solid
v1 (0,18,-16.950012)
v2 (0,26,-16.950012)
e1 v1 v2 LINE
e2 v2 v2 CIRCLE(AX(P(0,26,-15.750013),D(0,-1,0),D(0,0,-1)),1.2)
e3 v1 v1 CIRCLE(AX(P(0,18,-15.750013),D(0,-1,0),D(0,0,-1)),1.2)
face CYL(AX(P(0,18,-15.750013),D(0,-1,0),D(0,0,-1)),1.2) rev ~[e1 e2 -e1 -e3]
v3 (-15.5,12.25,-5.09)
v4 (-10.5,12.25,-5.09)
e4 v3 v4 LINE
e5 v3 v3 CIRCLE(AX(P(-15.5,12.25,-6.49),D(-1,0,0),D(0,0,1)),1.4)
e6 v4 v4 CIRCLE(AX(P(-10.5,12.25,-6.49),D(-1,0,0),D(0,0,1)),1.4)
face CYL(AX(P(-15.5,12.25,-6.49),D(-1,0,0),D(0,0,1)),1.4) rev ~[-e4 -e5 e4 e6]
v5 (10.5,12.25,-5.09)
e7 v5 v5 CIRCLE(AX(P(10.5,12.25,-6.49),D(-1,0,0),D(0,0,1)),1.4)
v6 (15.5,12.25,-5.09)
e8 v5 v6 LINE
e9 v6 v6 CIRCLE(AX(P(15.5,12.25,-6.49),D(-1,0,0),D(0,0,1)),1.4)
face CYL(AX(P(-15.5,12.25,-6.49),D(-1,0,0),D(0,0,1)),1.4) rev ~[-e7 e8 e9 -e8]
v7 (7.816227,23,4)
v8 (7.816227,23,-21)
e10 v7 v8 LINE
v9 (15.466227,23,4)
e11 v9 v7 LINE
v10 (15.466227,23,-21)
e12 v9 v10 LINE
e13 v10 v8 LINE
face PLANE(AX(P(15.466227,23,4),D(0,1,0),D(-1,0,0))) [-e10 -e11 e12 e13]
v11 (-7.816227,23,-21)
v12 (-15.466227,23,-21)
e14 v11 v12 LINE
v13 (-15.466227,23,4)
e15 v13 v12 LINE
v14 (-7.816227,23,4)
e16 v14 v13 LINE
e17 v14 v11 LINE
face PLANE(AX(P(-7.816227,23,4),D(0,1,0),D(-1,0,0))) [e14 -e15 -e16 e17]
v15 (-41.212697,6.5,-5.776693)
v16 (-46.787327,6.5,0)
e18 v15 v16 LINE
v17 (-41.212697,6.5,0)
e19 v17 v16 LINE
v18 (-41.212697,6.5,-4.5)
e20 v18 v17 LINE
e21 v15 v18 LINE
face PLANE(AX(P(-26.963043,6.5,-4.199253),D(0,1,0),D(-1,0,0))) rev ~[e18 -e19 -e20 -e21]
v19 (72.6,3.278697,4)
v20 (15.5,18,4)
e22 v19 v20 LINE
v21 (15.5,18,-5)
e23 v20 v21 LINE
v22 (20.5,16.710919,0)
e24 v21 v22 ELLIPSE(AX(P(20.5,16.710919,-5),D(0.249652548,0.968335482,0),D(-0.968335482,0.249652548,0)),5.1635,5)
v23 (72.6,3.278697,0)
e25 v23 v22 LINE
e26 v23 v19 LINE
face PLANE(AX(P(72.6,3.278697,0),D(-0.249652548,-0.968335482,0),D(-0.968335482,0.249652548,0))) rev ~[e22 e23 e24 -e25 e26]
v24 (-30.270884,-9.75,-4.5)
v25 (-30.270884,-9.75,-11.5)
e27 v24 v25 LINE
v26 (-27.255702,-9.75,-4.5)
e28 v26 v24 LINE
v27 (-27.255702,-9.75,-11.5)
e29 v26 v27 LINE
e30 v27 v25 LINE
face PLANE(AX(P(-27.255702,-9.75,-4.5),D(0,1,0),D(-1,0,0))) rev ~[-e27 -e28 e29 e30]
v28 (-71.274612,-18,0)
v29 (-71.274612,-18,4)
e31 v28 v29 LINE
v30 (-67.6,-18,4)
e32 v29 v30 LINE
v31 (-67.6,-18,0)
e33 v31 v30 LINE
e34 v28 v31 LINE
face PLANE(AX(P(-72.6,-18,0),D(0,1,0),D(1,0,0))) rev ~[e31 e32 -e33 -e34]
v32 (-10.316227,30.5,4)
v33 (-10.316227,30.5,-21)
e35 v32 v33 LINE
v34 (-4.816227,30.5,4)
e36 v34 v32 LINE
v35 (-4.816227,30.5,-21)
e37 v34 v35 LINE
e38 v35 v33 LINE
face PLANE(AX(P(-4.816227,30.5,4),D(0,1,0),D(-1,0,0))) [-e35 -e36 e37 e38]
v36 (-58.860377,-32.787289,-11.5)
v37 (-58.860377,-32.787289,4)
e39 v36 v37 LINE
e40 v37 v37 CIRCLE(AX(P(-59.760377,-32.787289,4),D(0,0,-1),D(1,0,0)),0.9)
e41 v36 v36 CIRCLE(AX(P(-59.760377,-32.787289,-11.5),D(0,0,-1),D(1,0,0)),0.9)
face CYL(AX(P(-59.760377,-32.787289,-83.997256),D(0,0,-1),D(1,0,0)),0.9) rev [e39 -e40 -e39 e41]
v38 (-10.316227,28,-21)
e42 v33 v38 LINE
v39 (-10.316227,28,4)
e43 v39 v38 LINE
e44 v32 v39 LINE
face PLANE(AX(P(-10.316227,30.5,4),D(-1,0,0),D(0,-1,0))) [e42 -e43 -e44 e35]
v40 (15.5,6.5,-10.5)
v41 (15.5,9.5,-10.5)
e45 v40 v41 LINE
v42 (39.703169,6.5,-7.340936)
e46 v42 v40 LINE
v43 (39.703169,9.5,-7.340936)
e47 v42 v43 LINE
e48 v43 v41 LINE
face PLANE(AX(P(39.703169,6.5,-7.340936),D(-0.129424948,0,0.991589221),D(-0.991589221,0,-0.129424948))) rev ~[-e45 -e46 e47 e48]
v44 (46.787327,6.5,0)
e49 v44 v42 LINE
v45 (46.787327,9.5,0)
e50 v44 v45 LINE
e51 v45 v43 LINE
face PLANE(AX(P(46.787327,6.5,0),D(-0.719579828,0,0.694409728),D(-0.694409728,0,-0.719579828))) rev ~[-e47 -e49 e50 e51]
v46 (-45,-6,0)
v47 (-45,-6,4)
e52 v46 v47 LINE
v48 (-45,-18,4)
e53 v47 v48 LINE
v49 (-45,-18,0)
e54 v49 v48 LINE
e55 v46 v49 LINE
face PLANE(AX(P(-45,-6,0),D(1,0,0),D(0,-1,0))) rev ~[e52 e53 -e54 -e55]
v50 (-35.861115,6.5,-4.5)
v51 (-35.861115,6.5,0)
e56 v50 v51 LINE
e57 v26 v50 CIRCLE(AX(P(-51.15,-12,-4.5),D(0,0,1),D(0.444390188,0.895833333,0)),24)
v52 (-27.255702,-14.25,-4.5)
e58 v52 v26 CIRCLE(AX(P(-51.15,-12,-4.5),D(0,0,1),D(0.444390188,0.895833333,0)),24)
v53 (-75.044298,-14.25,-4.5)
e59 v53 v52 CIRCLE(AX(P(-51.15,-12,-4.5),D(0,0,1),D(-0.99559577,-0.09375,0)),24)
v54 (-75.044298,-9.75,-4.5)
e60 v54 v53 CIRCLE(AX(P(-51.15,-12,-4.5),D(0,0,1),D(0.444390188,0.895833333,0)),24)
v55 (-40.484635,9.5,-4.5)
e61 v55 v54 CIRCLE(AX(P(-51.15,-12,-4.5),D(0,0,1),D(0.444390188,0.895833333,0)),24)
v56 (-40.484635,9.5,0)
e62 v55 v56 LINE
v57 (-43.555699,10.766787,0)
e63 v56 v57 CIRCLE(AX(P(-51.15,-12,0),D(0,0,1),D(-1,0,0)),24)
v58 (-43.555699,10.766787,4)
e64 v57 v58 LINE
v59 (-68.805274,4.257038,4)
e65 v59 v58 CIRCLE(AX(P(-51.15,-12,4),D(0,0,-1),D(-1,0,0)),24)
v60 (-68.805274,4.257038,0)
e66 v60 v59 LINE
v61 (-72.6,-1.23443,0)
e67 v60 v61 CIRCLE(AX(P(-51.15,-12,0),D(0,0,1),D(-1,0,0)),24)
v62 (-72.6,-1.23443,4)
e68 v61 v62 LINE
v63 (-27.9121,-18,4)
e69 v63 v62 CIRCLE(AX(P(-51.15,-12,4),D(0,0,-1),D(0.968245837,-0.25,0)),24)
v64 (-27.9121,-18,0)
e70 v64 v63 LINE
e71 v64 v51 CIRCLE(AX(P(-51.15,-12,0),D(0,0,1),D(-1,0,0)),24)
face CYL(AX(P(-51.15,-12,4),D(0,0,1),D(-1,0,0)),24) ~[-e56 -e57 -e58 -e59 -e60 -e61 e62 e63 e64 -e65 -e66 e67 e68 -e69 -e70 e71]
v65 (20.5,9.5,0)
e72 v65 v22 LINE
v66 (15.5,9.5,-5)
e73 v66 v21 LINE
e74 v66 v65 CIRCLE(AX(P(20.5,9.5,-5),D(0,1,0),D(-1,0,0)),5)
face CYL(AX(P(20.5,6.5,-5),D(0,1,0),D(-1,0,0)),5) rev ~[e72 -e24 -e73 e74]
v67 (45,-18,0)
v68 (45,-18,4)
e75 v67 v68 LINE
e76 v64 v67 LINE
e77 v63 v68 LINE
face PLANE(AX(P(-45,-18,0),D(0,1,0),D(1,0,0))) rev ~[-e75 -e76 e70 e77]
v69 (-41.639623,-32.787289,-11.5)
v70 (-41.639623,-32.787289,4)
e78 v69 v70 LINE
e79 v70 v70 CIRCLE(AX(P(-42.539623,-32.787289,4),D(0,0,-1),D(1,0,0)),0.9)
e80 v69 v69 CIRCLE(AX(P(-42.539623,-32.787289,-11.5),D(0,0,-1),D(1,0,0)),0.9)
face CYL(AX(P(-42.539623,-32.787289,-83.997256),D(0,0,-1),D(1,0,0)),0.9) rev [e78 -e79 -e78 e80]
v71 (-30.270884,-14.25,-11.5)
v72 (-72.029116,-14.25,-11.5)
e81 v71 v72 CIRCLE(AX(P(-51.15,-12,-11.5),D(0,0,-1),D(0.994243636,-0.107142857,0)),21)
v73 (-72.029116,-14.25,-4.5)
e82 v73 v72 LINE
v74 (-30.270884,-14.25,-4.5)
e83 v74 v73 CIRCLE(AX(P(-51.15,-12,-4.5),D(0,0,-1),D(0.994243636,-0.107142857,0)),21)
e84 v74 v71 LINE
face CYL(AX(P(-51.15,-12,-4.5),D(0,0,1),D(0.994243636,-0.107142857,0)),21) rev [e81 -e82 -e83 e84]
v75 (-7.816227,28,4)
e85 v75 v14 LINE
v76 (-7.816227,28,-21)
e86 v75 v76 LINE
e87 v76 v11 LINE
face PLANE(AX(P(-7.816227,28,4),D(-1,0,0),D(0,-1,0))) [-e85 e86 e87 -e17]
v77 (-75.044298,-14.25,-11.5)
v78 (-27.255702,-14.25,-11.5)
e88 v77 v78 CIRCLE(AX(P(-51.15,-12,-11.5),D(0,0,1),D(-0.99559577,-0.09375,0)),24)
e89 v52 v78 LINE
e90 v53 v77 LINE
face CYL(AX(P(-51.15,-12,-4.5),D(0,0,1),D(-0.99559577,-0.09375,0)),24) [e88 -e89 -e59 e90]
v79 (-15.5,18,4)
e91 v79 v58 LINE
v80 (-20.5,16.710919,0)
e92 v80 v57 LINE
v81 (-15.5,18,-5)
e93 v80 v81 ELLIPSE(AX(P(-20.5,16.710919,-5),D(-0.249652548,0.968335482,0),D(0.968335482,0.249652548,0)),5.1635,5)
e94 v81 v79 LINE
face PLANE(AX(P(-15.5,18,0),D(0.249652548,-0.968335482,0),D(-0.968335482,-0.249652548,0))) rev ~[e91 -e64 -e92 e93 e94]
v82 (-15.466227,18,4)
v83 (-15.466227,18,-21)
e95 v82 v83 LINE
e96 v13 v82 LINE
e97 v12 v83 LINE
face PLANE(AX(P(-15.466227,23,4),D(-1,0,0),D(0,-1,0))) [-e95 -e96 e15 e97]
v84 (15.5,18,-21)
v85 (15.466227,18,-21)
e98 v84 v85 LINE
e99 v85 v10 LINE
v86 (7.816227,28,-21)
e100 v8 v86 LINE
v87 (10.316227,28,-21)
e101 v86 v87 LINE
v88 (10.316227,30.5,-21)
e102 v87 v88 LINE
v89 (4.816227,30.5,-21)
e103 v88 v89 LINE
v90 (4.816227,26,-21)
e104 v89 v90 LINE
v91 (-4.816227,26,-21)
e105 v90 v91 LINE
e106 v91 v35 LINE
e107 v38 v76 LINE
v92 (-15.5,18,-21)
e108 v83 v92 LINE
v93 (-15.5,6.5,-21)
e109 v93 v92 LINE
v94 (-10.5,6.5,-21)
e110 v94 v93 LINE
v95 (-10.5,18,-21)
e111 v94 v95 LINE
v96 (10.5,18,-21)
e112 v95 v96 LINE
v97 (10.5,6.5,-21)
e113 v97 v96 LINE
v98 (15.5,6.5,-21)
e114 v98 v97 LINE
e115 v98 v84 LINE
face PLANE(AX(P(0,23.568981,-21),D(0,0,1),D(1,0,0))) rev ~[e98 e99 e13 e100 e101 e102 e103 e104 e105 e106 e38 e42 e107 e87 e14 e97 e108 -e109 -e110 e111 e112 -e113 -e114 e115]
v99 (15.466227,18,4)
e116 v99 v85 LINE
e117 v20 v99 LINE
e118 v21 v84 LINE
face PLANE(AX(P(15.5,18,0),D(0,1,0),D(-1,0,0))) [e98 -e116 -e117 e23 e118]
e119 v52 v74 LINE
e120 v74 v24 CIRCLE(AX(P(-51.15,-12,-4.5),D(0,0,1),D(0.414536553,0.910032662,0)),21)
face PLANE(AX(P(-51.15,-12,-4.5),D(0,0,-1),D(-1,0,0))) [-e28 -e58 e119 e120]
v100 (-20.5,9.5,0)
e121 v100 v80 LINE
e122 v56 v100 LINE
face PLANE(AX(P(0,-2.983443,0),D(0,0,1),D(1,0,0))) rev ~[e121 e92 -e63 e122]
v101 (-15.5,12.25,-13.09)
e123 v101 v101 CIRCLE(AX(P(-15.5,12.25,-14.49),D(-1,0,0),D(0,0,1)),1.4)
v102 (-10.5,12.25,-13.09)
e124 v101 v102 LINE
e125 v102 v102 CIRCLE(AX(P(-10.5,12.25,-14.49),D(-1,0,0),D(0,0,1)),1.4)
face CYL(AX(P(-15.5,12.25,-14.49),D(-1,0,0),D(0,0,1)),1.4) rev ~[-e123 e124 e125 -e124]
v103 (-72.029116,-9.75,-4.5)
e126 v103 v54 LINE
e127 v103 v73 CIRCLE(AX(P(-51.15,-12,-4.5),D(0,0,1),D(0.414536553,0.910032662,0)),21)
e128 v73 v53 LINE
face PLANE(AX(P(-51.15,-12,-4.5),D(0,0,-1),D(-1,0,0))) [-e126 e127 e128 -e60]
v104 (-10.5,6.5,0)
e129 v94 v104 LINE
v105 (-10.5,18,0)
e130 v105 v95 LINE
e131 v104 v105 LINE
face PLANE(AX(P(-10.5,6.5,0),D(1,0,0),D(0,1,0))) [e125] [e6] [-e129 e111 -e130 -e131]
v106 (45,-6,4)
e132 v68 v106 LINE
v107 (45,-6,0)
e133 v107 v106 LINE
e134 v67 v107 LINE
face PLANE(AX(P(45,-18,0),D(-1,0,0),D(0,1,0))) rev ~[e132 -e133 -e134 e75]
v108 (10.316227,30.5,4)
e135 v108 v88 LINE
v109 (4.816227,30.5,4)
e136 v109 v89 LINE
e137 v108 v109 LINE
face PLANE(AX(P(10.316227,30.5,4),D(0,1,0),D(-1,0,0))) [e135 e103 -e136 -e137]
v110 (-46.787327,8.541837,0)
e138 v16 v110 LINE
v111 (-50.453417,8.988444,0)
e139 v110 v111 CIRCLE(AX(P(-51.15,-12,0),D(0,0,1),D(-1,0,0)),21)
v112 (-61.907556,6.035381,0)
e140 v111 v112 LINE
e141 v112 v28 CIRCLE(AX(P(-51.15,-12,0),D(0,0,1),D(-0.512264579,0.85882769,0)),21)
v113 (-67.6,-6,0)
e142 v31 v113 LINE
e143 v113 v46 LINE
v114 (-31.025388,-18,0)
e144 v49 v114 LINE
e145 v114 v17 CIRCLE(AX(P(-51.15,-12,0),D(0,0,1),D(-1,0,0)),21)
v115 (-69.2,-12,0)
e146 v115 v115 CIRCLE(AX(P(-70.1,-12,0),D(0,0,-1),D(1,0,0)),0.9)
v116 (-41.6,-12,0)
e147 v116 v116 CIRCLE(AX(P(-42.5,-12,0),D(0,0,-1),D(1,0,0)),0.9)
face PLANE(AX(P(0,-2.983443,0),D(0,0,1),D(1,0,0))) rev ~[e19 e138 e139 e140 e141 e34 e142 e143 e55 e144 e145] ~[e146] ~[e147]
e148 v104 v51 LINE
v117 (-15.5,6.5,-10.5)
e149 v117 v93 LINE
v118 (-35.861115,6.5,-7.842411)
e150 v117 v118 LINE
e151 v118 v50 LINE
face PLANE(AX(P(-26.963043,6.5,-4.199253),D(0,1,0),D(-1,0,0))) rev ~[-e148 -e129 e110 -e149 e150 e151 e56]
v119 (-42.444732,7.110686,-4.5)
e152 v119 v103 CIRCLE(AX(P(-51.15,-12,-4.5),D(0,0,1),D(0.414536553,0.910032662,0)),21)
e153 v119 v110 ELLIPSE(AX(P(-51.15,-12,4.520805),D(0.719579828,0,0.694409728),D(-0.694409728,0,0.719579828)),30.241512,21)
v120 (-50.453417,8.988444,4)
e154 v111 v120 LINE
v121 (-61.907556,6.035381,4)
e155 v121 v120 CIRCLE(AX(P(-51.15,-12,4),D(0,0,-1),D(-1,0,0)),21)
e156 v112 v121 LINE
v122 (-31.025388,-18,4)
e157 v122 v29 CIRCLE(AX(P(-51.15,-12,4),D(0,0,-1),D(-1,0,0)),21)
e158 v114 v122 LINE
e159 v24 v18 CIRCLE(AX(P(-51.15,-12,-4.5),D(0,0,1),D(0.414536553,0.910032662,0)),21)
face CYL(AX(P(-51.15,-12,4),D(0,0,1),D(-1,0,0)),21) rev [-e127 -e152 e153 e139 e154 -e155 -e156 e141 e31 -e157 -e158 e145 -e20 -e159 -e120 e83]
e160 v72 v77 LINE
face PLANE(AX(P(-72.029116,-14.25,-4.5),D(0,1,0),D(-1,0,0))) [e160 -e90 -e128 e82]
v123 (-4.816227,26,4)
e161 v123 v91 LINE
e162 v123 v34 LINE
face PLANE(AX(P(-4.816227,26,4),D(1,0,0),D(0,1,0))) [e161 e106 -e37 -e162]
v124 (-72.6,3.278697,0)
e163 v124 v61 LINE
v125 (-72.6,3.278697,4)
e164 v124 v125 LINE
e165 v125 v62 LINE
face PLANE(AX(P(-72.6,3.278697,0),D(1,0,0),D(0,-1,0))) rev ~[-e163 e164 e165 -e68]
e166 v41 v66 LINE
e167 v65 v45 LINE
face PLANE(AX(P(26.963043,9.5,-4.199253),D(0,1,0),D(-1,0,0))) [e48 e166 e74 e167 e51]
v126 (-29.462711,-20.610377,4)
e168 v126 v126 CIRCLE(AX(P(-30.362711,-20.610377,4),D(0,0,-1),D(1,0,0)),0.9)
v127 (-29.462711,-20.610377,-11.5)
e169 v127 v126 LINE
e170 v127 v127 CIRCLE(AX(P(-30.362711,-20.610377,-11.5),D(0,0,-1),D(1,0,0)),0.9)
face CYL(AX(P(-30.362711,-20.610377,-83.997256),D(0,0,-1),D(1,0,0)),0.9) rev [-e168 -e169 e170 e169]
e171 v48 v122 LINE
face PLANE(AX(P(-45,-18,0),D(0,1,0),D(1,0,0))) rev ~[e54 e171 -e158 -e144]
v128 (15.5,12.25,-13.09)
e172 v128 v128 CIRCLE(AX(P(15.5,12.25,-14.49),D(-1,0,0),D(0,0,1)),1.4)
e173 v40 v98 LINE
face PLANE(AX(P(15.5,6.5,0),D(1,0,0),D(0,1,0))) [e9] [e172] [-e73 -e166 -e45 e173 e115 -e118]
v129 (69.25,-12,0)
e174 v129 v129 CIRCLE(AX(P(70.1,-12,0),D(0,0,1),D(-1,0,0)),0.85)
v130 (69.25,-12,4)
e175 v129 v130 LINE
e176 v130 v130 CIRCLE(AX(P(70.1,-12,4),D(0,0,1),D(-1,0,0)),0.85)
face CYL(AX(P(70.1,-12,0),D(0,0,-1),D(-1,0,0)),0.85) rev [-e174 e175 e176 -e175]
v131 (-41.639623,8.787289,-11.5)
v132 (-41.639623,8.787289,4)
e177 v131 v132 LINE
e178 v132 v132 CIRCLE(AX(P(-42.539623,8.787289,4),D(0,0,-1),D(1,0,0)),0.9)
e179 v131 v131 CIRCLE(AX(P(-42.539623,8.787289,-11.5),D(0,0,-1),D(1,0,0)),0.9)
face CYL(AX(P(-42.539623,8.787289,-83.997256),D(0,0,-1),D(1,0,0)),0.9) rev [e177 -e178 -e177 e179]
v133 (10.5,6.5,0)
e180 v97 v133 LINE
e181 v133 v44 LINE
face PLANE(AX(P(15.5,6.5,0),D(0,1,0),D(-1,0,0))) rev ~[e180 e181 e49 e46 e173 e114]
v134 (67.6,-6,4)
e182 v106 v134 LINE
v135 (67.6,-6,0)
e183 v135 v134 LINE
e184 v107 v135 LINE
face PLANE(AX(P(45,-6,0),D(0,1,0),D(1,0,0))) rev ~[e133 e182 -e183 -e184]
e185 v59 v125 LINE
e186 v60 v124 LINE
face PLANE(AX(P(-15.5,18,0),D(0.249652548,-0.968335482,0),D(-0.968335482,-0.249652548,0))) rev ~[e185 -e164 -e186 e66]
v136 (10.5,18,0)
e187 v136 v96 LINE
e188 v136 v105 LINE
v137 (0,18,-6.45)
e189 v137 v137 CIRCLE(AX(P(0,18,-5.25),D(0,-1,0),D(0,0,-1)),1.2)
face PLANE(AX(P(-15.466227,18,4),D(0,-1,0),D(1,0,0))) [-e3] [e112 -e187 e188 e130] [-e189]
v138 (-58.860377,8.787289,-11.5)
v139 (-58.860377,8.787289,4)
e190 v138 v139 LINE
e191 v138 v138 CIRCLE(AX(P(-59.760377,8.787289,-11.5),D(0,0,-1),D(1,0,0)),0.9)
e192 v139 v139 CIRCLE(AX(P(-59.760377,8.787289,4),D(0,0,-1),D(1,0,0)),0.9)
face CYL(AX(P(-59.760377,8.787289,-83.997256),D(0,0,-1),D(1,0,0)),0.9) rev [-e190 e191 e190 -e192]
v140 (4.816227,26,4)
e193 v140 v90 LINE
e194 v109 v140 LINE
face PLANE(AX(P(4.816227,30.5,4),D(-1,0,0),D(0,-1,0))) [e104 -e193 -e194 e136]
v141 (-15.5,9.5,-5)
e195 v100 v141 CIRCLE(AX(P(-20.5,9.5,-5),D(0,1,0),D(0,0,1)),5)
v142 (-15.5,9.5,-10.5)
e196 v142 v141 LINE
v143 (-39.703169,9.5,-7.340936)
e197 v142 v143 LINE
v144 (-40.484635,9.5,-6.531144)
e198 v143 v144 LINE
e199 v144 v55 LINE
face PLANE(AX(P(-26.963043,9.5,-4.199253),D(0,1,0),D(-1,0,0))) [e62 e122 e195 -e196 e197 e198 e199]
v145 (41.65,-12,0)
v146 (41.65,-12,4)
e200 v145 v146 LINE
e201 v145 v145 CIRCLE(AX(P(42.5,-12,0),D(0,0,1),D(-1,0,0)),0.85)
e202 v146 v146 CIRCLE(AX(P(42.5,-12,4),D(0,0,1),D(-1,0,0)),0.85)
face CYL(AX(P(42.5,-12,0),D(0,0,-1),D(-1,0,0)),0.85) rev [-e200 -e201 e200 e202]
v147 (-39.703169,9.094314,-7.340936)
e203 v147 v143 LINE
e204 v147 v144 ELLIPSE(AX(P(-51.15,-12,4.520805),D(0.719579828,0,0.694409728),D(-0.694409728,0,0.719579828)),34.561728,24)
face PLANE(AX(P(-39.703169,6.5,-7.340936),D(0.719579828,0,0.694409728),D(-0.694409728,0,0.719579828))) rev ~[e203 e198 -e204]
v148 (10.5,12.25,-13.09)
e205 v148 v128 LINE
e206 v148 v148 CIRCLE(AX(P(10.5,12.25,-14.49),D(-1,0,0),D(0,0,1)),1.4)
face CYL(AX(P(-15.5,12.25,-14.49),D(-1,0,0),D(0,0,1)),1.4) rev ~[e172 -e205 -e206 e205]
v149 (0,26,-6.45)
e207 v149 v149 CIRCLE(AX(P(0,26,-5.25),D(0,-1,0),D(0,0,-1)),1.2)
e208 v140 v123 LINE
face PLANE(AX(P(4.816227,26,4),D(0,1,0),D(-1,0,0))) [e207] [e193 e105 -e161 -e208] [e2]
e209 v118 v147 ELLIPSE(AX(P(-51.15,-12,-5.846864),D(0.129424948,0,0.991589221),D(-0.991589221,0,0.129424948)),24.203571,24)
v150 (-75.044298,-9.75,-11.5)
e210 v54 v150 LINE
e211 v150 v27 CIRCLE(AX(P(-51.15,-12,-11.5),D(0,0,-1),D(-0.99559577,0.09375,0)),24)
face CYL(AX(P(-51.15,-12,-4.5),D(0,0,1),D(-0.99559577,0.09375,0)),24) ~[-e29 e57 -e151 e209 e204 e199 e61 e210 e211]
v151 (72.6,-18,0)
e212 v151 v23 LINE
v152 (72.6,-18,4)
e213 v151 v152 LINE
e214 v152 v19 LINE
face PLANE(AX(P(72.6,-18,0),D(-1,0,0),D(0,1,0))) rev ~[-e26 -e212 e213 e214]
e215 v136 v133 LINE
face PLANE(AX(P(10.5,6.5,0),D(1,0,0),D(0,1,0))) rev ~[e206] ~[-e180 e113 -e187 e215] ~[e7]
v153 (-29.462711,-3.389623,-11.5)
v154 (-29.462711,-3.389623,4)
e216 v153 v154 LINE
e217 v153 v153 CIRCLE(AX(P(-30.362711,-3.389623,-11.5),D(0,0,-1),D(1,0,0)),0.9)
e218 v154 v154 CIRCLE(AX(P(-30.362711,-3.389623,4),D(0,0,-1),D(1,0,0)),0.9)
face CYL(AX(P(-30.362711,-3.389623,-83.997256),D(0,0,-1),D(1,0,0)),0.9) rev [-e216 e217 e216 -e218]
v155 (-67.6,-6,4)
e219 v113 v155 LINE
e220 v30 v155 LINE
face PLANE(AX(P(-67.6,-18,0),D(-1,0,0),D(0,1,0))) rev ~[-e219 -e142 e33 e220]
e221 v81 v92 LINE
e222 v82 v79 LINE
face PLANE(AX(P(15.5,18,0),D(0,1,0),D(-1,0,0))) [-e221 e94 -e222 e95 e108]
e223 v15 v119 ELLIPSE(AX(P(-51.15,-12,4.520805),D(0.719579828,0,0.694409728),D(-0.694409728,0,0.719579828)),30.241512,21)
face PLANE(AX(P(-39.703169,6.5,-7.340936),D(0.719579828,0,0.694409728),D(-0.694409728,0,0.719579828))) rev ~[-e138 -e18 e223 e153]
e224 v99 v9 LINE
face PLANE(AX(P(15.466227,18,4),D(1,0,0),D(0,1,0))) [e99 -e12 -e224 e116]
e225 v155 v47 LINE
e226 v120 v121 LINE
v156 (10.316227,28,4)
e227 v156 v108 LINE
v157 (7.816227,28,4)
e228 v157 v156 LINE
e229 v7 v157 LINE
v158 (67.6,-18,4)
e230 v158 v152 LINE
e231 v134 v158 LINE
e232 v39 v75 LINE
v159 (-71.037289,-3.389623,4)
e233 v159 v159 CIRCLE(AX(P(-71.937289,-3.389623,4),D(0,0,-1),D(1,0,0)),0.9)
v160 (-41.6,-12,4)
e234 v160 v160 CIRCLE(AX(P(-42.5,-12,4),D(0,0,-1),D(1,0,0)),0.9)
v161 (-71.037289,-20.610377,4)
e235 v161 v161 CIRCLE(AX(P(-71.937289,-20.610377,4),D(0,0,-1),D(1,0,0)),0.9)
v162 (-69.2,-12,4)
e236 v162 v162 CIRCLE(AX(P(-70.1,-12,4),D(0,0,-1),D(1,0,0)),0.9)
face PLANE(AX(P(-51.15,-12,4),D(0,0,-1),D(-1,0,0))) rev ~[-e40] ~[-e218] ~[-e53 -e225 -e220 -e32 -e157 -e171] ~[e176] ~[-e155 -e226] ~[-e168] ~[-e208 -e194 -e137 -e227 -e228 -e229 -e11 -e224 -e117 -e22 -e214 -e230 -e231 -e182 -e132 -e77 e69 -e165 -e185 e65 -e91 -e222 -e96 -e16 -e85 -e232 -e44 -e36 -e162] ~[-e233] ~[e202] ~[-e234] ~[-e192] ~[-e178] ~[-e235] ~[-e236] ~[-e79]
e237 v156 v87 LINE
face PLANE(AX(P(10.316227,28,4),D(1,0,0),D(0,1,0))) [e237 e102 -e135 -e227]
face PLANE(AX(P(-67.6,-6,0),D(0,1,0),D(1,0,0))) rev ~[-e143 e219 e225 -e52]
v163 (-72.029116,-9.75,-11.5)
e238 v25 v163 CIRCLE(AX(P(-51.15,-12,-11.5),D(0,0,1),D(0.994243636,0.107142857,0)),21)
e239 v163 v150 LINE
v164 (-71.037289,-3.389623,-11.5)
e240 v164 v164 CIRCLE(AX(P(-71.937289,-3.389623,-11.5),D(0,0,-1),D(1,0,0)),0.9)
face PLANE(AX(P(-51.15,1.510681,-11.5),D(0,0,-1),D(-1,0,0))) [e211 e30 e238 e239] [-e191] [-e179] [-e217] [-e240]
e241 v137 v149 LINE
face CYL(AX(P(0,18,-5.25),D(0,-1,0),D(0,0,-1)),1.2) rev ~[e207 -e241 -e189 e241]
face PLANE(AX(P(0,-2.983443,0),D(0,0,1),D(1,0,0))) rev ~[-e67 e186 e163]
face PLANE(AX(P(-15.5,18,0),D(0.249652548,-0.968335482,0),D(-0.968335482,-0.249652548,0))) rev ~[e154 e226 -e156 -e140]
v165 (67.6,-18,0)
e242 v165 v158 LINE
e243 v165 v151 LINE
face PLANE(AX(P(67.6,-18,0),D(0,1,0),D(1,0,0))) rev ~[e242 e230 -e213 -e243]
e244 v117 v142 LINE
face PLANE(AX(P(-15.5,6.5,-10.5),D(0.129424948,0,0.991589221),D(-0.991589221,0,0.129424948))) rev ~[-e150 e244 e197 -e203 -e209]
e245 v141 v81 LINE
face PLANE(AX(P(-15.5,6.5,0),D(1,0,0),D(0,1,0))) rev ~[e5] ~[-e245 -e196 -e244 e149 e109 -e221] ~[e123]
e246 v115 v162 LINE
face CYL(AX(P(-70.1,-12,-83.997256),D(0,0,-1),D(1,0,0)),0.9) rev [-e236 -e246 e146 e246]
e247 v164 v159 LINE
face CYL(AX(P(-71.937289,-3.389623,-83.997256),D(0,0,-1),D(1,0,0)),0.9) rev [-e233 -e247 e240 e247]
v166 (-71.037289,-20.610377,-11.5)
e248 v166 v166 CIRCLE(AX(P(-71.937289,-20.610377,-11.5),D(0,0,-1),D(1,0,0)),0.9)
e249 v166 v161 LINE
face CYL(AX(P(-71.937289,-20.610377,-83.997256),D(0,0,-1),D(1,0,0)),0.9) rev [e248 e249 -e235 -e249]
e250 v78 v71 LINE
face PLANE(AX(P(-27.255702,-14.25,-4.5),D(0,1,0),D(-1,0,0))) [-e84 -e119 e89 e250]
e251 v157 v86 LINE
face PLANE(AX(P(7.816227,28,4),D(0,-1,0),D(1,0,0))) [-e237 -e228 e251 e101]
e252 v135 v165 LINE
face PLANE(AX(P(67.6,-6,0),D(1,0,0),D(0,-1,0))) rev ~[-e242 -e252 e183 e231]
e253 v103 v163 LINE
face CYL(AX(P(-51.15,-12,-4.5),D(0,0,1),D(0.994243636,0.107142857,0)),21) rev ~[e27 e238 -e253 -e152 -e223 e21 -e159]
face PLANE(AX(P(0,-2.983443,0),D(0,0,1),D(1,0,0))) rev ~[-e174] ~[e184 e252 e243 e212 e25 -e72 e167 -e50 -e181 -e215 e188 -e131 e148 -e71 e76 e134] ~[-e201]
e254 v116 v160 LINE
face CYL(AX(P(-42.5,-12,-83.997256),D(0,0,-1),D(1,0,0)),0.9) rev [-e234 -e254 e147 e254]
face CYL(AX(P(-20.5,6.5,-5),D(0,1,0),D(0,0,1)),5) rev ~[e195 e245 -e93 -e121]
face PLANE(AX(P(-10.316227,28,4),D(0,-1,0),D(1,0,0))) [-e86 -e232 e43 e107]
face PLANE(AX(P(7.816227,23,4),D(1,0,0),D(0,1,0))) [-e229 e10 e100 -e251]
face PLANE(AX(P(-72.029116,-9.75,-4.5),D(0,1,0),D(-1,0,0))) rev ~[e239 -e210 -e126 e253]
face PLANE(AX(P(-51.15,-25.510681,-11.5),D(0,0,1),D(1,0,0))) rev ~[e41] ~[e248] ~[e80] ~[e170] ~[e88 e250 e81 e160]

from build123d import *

# Parameters (mm, degrees)
ESQUISSE1_R                  = 0.85
BOSS_EXTRU_1_DEPTH           = 4
ESQUISSE2_W                  = 5
ESQUISSE2_H                  = 11.5
BOSS_EXTRU_2_DEPTH           = 21
ESQUISSE3_R                  = 1.4
ENL_V_MAT_EXTRU_1_DEPTH      = 93.33964479
CONG_1_R                     = 5
BOSS_EXTRU_3_DEPTH           = 3
BOSS_EXTRU_4_DEPTH           = 25
ESQUISSE6_R                  = 1.2
ENL_V_MAT_EXTRU_2_DEPTH      = 84.712364678
BOSS_EXTRU_6_DEPTH           = 4.5
BOSS_EXTRU_6_DEPTH_BACK      = 4
ESQUISSE9_R                  = 24
ESQUISSE9_R_2                = 21
BOSS_EXTRU_7_DEPTH           = 7
ENL_V_MAT_EXTRU_3_DEPTH      = 87.997255704
ENL_V_MAT_EXTRU_3_DEPTH_BACK = 87.997255704
ESQUISSE11_R                 = 0.9
ENL_V_MAT_EXTRU_4_DEPTH      = 87.997255704
ENL_V_MAT_EXTRU_4_DEPTH_BACK = 87.997255704
ESQUISSE12_R                 = 0.9


with BuildPart() as part:
    # Esquisse1 → Boss.-Extru.1 (new body)
    with BuildSketch(Plane.XY):
        Polygon((15.5, 18), (-15.5, 18), (-72.6, 3.278696541), (-72.6, -18), (-67.6, -18), (-67.6, -6), (-45, -6), (-45, -18), (45, -18), (45, -6), (67.6, -6), (67.6, -18), (72.6, -18), (72.6, 3.278696541), align=None)
        with Locations((-42.5, -12)):
            Circle(ESQUISSE1_R, mode=Mode.SUBTRACT)
        with Locations((-70.1, -12)):
            Circle(ESQUISSE1_R, mode=Mode.SUBTRACT)
        with Locations(Location((42.5, -12, 0), (0, 0, 180))):
            Circle(ESQUISSE1_R, mode=Mode.SUBTRACT)
        with Locations(Location((70.1, -12, 0), (0, 0, 180))):
            Circle(ESQUISSE1_R, mode=Mode.SUBTRACT)
    extrude(amount=BOSS_EXTRU_1_DEPTH)

    # Esquisse2 → Boss.-Extru.2 (add)
    with BuildSketch(Plane(origin=(0, 0, 0), x_dir=(-1, 0, 0), z_dir=(0, 0, -1))):
        with Locations((-13, 12.25)):
            Rectangle(ESQUISSE2_W, ESQUISSE2_H)
        with Locations((13, 12.25)):
            Rectangle(ESQUISSE2_W, ESQUISSE2_H)
    extrude(amount=BOSS_EXTRU_2_DEPTH)

    # Esquisse3 → Enlèv. mat.-Extru.1 (cut, through all)
    with BuildSketch(Plane.ZY.offset(15.5)):
        with Locations((-6.49, 12.25)):
            Circle(ESQUISSE3_R)
        with Locations((-14.49, 12.25)):
            Circle(ESQUISSE3_R)
    extrude(amount=-ENL_V_MAT_EXTRU_1_DEPTH, mode=Mode.SUBTRACT)

    # Congé1
    cong_1_edges = [part.edges().sort_by_distance(p)[0] for p in [
        (-15.5, 12.25, 0),
        (15.5, 12.25, 0),
    ]]
    fillet(cong_1_edges, radius=CONG_1_R)

    # Esquisse4 → Boss.-Extru.3 (add)
    with BuildSketch(Plane.XZ.offset(-6.5)):
        Polygon((-15.5, -10.5), (-39.70316927, -7.340935878), (-46.787327396, 0), (-10.5, 0), (-10.5, -10.5), align=None)
        Polygon((15.5, -10.5), (10.5, -10.5), (10.5, 0), (46.787327396, 0), (39.70316927, -7.340935878), align=None)
    extrude(amount=-BOSS_EXTRU_3_DEPTH)

    # Esquisse5 → Boss.-Extru.4 (add, through all)
    with BuildSketch(Plane.XY.offset(4)):
        Polygon((-15.466226842, 23), (-15.466226842, 18), (15.466226842, 18), (15.466226842, 23), (7.816226842, 23), (7.816226842, 28), (10.316226842, 28), (10.316226842, 30.5), (4.816226842, 30.5), (4.816226842, 26), (-4.816226842, 26), (-4.816226842, 30.5), (-10.316226842, 30.5), (-10.316226842, 28), (-7.816226842, 28), (-7.816226842, 23), align=None)
    extrude(amount=-BOSS_EXTRU_4_DEPTH)

    # Esquisse6 → Enlèv. mat.-Extru.2 (cut, through all)
    with BuildSketch(Plane.XZ.offset(-18)):
        with Locations(Location((0, -5.25, 0), (0, 0, 270))):
            Circle(ESQUISSE6_R)
        with Locations(Location((0, -15.7500125, 0), (0, 0, 270))):
            Circle(ESQUISSE6_R)
    extrude(amount=-ENL_V_MAT_EXTRU_2_DEPTH, mode=Mode.SUBTRACT)

    # Esquisse9 → Boss.-Extru.6 (add, two sides: drawn at the far end of the back side and taken through both)
    with BuildSketch(Plane(origin=(0, 0, 0), x_dir=(-1, 0, 0), z_dir=(0, 0, -1)).offset(-BOSS_EXTRU_6_DEPTH_BACK)):
        with Locations((51.15, -12)):
            Circle(ESQUISSE9_R)
        with Locations((51.15, -12)):
            Circle(ESQUISSE9_R_2, mode=Mode.SUBTRACT)
    extrude(amount=BOSS_EXTRU_6_DEPTH + BOSS_EXTRU_6_DEPTH_BACK)

    # Esquisse10 → Boss.-Extru.7 (add)
    with BuildSketch(Plane(origin=(0, 0, -4.5), x_dir=(-1, 0, 0), z_dir=(0, 0, -1))):
        with BuildLine():
            Line((27.255701517, -9.75), (30.270883639, -9.75))
            ThreePointArc((30.270883639, -9.75), (51.15, 9), (72.029116361, -9.75))
            Line((72.029116361, -9.75), (75.044298483, -9.75))
            ThreePointArc((75.044298483, -9.75), (51.15, 12), (27.255701517, -9.75))
        make_face()
        with BuildLine():
            Line((27.255701517, -14.25), (30.270883639, -14.25))
            ThreePointArc((30.270883639, -14.25), (51.15, -33), (72.029116361, -14.25))
            Line((72.029116361, -14.25), (75.044298483, -14.25))
            ThreePointArc((75.044298483, -14.25), (51.15, -36), (27.255701517, -14.25))
        make_face()
    extrude(amount=BOSS_EXTRU_7_DEPTH)

    # Esquisse11 → Enlèv. mat.-Extru.3 (cut, two sides: drawn at the far end of the back side and taken through both)
    with BuildSketch(Plane.XY.offset(4).offset(-ENL_V_MAT_EXTRU_3_DEPTH_BACK)):
        with Locations((-70.1, -12)):
            Circle(ESQUISSE11_R)
        with Locations((-42.5, -12)):
            Circle(ESQUISSE11_R)
    extrude(amount=ENL_V_MAT_EXTRU_3_DEPTH + ENL_V_MAT_EXTRU_3_DEPTH_BACK, mode=Mode.SUBTRACT)

    # Esquisse12 → Enlèv. mat.-Extru.4 (cut, two sides: drawn at the far end of the back side and taken through both)
    with BuildSketch(Plane.XY.offset(4).offset(-ENL_V_MAT_EXTRU_4_DEPTH_BACK)):
        with Locations((-71.937289482, -3.389622772)):
            Circle(ESQUISSE12_R)
        with Locations((-59.760377228, 8.787289482)):
            Circle(ESQUISSE12_R)
        with Locations((-42.539622772, 8.787289482)):
            Circle(ESQUISSE12_R)
        with Locations((-30.362710518, -3.389622772)):
            Circle(ESQUISSE12_R)
        with Locations((-30.362710518, -20.610377228)):
            Circle(ESQUISSE12_R)
        with Locations((-42.539622772, -32.787289482)):
            Circle(ESQUISSE12_R)
        with Locations((-59.760377228, -32.787289482)):
            Circle(ESQUISSE12_R)
        with Locations((-71.937289482, -20.610377228)):
            Circle(ESQUISSE12_R)
    extrude(amount=ENL_V_MAT_EXTRU_4_DEPTH + ENL_V_MAT_EXTRU_4_DEPTH_BACK, mode=Mode.SUBTRACT)


solid = part.part
